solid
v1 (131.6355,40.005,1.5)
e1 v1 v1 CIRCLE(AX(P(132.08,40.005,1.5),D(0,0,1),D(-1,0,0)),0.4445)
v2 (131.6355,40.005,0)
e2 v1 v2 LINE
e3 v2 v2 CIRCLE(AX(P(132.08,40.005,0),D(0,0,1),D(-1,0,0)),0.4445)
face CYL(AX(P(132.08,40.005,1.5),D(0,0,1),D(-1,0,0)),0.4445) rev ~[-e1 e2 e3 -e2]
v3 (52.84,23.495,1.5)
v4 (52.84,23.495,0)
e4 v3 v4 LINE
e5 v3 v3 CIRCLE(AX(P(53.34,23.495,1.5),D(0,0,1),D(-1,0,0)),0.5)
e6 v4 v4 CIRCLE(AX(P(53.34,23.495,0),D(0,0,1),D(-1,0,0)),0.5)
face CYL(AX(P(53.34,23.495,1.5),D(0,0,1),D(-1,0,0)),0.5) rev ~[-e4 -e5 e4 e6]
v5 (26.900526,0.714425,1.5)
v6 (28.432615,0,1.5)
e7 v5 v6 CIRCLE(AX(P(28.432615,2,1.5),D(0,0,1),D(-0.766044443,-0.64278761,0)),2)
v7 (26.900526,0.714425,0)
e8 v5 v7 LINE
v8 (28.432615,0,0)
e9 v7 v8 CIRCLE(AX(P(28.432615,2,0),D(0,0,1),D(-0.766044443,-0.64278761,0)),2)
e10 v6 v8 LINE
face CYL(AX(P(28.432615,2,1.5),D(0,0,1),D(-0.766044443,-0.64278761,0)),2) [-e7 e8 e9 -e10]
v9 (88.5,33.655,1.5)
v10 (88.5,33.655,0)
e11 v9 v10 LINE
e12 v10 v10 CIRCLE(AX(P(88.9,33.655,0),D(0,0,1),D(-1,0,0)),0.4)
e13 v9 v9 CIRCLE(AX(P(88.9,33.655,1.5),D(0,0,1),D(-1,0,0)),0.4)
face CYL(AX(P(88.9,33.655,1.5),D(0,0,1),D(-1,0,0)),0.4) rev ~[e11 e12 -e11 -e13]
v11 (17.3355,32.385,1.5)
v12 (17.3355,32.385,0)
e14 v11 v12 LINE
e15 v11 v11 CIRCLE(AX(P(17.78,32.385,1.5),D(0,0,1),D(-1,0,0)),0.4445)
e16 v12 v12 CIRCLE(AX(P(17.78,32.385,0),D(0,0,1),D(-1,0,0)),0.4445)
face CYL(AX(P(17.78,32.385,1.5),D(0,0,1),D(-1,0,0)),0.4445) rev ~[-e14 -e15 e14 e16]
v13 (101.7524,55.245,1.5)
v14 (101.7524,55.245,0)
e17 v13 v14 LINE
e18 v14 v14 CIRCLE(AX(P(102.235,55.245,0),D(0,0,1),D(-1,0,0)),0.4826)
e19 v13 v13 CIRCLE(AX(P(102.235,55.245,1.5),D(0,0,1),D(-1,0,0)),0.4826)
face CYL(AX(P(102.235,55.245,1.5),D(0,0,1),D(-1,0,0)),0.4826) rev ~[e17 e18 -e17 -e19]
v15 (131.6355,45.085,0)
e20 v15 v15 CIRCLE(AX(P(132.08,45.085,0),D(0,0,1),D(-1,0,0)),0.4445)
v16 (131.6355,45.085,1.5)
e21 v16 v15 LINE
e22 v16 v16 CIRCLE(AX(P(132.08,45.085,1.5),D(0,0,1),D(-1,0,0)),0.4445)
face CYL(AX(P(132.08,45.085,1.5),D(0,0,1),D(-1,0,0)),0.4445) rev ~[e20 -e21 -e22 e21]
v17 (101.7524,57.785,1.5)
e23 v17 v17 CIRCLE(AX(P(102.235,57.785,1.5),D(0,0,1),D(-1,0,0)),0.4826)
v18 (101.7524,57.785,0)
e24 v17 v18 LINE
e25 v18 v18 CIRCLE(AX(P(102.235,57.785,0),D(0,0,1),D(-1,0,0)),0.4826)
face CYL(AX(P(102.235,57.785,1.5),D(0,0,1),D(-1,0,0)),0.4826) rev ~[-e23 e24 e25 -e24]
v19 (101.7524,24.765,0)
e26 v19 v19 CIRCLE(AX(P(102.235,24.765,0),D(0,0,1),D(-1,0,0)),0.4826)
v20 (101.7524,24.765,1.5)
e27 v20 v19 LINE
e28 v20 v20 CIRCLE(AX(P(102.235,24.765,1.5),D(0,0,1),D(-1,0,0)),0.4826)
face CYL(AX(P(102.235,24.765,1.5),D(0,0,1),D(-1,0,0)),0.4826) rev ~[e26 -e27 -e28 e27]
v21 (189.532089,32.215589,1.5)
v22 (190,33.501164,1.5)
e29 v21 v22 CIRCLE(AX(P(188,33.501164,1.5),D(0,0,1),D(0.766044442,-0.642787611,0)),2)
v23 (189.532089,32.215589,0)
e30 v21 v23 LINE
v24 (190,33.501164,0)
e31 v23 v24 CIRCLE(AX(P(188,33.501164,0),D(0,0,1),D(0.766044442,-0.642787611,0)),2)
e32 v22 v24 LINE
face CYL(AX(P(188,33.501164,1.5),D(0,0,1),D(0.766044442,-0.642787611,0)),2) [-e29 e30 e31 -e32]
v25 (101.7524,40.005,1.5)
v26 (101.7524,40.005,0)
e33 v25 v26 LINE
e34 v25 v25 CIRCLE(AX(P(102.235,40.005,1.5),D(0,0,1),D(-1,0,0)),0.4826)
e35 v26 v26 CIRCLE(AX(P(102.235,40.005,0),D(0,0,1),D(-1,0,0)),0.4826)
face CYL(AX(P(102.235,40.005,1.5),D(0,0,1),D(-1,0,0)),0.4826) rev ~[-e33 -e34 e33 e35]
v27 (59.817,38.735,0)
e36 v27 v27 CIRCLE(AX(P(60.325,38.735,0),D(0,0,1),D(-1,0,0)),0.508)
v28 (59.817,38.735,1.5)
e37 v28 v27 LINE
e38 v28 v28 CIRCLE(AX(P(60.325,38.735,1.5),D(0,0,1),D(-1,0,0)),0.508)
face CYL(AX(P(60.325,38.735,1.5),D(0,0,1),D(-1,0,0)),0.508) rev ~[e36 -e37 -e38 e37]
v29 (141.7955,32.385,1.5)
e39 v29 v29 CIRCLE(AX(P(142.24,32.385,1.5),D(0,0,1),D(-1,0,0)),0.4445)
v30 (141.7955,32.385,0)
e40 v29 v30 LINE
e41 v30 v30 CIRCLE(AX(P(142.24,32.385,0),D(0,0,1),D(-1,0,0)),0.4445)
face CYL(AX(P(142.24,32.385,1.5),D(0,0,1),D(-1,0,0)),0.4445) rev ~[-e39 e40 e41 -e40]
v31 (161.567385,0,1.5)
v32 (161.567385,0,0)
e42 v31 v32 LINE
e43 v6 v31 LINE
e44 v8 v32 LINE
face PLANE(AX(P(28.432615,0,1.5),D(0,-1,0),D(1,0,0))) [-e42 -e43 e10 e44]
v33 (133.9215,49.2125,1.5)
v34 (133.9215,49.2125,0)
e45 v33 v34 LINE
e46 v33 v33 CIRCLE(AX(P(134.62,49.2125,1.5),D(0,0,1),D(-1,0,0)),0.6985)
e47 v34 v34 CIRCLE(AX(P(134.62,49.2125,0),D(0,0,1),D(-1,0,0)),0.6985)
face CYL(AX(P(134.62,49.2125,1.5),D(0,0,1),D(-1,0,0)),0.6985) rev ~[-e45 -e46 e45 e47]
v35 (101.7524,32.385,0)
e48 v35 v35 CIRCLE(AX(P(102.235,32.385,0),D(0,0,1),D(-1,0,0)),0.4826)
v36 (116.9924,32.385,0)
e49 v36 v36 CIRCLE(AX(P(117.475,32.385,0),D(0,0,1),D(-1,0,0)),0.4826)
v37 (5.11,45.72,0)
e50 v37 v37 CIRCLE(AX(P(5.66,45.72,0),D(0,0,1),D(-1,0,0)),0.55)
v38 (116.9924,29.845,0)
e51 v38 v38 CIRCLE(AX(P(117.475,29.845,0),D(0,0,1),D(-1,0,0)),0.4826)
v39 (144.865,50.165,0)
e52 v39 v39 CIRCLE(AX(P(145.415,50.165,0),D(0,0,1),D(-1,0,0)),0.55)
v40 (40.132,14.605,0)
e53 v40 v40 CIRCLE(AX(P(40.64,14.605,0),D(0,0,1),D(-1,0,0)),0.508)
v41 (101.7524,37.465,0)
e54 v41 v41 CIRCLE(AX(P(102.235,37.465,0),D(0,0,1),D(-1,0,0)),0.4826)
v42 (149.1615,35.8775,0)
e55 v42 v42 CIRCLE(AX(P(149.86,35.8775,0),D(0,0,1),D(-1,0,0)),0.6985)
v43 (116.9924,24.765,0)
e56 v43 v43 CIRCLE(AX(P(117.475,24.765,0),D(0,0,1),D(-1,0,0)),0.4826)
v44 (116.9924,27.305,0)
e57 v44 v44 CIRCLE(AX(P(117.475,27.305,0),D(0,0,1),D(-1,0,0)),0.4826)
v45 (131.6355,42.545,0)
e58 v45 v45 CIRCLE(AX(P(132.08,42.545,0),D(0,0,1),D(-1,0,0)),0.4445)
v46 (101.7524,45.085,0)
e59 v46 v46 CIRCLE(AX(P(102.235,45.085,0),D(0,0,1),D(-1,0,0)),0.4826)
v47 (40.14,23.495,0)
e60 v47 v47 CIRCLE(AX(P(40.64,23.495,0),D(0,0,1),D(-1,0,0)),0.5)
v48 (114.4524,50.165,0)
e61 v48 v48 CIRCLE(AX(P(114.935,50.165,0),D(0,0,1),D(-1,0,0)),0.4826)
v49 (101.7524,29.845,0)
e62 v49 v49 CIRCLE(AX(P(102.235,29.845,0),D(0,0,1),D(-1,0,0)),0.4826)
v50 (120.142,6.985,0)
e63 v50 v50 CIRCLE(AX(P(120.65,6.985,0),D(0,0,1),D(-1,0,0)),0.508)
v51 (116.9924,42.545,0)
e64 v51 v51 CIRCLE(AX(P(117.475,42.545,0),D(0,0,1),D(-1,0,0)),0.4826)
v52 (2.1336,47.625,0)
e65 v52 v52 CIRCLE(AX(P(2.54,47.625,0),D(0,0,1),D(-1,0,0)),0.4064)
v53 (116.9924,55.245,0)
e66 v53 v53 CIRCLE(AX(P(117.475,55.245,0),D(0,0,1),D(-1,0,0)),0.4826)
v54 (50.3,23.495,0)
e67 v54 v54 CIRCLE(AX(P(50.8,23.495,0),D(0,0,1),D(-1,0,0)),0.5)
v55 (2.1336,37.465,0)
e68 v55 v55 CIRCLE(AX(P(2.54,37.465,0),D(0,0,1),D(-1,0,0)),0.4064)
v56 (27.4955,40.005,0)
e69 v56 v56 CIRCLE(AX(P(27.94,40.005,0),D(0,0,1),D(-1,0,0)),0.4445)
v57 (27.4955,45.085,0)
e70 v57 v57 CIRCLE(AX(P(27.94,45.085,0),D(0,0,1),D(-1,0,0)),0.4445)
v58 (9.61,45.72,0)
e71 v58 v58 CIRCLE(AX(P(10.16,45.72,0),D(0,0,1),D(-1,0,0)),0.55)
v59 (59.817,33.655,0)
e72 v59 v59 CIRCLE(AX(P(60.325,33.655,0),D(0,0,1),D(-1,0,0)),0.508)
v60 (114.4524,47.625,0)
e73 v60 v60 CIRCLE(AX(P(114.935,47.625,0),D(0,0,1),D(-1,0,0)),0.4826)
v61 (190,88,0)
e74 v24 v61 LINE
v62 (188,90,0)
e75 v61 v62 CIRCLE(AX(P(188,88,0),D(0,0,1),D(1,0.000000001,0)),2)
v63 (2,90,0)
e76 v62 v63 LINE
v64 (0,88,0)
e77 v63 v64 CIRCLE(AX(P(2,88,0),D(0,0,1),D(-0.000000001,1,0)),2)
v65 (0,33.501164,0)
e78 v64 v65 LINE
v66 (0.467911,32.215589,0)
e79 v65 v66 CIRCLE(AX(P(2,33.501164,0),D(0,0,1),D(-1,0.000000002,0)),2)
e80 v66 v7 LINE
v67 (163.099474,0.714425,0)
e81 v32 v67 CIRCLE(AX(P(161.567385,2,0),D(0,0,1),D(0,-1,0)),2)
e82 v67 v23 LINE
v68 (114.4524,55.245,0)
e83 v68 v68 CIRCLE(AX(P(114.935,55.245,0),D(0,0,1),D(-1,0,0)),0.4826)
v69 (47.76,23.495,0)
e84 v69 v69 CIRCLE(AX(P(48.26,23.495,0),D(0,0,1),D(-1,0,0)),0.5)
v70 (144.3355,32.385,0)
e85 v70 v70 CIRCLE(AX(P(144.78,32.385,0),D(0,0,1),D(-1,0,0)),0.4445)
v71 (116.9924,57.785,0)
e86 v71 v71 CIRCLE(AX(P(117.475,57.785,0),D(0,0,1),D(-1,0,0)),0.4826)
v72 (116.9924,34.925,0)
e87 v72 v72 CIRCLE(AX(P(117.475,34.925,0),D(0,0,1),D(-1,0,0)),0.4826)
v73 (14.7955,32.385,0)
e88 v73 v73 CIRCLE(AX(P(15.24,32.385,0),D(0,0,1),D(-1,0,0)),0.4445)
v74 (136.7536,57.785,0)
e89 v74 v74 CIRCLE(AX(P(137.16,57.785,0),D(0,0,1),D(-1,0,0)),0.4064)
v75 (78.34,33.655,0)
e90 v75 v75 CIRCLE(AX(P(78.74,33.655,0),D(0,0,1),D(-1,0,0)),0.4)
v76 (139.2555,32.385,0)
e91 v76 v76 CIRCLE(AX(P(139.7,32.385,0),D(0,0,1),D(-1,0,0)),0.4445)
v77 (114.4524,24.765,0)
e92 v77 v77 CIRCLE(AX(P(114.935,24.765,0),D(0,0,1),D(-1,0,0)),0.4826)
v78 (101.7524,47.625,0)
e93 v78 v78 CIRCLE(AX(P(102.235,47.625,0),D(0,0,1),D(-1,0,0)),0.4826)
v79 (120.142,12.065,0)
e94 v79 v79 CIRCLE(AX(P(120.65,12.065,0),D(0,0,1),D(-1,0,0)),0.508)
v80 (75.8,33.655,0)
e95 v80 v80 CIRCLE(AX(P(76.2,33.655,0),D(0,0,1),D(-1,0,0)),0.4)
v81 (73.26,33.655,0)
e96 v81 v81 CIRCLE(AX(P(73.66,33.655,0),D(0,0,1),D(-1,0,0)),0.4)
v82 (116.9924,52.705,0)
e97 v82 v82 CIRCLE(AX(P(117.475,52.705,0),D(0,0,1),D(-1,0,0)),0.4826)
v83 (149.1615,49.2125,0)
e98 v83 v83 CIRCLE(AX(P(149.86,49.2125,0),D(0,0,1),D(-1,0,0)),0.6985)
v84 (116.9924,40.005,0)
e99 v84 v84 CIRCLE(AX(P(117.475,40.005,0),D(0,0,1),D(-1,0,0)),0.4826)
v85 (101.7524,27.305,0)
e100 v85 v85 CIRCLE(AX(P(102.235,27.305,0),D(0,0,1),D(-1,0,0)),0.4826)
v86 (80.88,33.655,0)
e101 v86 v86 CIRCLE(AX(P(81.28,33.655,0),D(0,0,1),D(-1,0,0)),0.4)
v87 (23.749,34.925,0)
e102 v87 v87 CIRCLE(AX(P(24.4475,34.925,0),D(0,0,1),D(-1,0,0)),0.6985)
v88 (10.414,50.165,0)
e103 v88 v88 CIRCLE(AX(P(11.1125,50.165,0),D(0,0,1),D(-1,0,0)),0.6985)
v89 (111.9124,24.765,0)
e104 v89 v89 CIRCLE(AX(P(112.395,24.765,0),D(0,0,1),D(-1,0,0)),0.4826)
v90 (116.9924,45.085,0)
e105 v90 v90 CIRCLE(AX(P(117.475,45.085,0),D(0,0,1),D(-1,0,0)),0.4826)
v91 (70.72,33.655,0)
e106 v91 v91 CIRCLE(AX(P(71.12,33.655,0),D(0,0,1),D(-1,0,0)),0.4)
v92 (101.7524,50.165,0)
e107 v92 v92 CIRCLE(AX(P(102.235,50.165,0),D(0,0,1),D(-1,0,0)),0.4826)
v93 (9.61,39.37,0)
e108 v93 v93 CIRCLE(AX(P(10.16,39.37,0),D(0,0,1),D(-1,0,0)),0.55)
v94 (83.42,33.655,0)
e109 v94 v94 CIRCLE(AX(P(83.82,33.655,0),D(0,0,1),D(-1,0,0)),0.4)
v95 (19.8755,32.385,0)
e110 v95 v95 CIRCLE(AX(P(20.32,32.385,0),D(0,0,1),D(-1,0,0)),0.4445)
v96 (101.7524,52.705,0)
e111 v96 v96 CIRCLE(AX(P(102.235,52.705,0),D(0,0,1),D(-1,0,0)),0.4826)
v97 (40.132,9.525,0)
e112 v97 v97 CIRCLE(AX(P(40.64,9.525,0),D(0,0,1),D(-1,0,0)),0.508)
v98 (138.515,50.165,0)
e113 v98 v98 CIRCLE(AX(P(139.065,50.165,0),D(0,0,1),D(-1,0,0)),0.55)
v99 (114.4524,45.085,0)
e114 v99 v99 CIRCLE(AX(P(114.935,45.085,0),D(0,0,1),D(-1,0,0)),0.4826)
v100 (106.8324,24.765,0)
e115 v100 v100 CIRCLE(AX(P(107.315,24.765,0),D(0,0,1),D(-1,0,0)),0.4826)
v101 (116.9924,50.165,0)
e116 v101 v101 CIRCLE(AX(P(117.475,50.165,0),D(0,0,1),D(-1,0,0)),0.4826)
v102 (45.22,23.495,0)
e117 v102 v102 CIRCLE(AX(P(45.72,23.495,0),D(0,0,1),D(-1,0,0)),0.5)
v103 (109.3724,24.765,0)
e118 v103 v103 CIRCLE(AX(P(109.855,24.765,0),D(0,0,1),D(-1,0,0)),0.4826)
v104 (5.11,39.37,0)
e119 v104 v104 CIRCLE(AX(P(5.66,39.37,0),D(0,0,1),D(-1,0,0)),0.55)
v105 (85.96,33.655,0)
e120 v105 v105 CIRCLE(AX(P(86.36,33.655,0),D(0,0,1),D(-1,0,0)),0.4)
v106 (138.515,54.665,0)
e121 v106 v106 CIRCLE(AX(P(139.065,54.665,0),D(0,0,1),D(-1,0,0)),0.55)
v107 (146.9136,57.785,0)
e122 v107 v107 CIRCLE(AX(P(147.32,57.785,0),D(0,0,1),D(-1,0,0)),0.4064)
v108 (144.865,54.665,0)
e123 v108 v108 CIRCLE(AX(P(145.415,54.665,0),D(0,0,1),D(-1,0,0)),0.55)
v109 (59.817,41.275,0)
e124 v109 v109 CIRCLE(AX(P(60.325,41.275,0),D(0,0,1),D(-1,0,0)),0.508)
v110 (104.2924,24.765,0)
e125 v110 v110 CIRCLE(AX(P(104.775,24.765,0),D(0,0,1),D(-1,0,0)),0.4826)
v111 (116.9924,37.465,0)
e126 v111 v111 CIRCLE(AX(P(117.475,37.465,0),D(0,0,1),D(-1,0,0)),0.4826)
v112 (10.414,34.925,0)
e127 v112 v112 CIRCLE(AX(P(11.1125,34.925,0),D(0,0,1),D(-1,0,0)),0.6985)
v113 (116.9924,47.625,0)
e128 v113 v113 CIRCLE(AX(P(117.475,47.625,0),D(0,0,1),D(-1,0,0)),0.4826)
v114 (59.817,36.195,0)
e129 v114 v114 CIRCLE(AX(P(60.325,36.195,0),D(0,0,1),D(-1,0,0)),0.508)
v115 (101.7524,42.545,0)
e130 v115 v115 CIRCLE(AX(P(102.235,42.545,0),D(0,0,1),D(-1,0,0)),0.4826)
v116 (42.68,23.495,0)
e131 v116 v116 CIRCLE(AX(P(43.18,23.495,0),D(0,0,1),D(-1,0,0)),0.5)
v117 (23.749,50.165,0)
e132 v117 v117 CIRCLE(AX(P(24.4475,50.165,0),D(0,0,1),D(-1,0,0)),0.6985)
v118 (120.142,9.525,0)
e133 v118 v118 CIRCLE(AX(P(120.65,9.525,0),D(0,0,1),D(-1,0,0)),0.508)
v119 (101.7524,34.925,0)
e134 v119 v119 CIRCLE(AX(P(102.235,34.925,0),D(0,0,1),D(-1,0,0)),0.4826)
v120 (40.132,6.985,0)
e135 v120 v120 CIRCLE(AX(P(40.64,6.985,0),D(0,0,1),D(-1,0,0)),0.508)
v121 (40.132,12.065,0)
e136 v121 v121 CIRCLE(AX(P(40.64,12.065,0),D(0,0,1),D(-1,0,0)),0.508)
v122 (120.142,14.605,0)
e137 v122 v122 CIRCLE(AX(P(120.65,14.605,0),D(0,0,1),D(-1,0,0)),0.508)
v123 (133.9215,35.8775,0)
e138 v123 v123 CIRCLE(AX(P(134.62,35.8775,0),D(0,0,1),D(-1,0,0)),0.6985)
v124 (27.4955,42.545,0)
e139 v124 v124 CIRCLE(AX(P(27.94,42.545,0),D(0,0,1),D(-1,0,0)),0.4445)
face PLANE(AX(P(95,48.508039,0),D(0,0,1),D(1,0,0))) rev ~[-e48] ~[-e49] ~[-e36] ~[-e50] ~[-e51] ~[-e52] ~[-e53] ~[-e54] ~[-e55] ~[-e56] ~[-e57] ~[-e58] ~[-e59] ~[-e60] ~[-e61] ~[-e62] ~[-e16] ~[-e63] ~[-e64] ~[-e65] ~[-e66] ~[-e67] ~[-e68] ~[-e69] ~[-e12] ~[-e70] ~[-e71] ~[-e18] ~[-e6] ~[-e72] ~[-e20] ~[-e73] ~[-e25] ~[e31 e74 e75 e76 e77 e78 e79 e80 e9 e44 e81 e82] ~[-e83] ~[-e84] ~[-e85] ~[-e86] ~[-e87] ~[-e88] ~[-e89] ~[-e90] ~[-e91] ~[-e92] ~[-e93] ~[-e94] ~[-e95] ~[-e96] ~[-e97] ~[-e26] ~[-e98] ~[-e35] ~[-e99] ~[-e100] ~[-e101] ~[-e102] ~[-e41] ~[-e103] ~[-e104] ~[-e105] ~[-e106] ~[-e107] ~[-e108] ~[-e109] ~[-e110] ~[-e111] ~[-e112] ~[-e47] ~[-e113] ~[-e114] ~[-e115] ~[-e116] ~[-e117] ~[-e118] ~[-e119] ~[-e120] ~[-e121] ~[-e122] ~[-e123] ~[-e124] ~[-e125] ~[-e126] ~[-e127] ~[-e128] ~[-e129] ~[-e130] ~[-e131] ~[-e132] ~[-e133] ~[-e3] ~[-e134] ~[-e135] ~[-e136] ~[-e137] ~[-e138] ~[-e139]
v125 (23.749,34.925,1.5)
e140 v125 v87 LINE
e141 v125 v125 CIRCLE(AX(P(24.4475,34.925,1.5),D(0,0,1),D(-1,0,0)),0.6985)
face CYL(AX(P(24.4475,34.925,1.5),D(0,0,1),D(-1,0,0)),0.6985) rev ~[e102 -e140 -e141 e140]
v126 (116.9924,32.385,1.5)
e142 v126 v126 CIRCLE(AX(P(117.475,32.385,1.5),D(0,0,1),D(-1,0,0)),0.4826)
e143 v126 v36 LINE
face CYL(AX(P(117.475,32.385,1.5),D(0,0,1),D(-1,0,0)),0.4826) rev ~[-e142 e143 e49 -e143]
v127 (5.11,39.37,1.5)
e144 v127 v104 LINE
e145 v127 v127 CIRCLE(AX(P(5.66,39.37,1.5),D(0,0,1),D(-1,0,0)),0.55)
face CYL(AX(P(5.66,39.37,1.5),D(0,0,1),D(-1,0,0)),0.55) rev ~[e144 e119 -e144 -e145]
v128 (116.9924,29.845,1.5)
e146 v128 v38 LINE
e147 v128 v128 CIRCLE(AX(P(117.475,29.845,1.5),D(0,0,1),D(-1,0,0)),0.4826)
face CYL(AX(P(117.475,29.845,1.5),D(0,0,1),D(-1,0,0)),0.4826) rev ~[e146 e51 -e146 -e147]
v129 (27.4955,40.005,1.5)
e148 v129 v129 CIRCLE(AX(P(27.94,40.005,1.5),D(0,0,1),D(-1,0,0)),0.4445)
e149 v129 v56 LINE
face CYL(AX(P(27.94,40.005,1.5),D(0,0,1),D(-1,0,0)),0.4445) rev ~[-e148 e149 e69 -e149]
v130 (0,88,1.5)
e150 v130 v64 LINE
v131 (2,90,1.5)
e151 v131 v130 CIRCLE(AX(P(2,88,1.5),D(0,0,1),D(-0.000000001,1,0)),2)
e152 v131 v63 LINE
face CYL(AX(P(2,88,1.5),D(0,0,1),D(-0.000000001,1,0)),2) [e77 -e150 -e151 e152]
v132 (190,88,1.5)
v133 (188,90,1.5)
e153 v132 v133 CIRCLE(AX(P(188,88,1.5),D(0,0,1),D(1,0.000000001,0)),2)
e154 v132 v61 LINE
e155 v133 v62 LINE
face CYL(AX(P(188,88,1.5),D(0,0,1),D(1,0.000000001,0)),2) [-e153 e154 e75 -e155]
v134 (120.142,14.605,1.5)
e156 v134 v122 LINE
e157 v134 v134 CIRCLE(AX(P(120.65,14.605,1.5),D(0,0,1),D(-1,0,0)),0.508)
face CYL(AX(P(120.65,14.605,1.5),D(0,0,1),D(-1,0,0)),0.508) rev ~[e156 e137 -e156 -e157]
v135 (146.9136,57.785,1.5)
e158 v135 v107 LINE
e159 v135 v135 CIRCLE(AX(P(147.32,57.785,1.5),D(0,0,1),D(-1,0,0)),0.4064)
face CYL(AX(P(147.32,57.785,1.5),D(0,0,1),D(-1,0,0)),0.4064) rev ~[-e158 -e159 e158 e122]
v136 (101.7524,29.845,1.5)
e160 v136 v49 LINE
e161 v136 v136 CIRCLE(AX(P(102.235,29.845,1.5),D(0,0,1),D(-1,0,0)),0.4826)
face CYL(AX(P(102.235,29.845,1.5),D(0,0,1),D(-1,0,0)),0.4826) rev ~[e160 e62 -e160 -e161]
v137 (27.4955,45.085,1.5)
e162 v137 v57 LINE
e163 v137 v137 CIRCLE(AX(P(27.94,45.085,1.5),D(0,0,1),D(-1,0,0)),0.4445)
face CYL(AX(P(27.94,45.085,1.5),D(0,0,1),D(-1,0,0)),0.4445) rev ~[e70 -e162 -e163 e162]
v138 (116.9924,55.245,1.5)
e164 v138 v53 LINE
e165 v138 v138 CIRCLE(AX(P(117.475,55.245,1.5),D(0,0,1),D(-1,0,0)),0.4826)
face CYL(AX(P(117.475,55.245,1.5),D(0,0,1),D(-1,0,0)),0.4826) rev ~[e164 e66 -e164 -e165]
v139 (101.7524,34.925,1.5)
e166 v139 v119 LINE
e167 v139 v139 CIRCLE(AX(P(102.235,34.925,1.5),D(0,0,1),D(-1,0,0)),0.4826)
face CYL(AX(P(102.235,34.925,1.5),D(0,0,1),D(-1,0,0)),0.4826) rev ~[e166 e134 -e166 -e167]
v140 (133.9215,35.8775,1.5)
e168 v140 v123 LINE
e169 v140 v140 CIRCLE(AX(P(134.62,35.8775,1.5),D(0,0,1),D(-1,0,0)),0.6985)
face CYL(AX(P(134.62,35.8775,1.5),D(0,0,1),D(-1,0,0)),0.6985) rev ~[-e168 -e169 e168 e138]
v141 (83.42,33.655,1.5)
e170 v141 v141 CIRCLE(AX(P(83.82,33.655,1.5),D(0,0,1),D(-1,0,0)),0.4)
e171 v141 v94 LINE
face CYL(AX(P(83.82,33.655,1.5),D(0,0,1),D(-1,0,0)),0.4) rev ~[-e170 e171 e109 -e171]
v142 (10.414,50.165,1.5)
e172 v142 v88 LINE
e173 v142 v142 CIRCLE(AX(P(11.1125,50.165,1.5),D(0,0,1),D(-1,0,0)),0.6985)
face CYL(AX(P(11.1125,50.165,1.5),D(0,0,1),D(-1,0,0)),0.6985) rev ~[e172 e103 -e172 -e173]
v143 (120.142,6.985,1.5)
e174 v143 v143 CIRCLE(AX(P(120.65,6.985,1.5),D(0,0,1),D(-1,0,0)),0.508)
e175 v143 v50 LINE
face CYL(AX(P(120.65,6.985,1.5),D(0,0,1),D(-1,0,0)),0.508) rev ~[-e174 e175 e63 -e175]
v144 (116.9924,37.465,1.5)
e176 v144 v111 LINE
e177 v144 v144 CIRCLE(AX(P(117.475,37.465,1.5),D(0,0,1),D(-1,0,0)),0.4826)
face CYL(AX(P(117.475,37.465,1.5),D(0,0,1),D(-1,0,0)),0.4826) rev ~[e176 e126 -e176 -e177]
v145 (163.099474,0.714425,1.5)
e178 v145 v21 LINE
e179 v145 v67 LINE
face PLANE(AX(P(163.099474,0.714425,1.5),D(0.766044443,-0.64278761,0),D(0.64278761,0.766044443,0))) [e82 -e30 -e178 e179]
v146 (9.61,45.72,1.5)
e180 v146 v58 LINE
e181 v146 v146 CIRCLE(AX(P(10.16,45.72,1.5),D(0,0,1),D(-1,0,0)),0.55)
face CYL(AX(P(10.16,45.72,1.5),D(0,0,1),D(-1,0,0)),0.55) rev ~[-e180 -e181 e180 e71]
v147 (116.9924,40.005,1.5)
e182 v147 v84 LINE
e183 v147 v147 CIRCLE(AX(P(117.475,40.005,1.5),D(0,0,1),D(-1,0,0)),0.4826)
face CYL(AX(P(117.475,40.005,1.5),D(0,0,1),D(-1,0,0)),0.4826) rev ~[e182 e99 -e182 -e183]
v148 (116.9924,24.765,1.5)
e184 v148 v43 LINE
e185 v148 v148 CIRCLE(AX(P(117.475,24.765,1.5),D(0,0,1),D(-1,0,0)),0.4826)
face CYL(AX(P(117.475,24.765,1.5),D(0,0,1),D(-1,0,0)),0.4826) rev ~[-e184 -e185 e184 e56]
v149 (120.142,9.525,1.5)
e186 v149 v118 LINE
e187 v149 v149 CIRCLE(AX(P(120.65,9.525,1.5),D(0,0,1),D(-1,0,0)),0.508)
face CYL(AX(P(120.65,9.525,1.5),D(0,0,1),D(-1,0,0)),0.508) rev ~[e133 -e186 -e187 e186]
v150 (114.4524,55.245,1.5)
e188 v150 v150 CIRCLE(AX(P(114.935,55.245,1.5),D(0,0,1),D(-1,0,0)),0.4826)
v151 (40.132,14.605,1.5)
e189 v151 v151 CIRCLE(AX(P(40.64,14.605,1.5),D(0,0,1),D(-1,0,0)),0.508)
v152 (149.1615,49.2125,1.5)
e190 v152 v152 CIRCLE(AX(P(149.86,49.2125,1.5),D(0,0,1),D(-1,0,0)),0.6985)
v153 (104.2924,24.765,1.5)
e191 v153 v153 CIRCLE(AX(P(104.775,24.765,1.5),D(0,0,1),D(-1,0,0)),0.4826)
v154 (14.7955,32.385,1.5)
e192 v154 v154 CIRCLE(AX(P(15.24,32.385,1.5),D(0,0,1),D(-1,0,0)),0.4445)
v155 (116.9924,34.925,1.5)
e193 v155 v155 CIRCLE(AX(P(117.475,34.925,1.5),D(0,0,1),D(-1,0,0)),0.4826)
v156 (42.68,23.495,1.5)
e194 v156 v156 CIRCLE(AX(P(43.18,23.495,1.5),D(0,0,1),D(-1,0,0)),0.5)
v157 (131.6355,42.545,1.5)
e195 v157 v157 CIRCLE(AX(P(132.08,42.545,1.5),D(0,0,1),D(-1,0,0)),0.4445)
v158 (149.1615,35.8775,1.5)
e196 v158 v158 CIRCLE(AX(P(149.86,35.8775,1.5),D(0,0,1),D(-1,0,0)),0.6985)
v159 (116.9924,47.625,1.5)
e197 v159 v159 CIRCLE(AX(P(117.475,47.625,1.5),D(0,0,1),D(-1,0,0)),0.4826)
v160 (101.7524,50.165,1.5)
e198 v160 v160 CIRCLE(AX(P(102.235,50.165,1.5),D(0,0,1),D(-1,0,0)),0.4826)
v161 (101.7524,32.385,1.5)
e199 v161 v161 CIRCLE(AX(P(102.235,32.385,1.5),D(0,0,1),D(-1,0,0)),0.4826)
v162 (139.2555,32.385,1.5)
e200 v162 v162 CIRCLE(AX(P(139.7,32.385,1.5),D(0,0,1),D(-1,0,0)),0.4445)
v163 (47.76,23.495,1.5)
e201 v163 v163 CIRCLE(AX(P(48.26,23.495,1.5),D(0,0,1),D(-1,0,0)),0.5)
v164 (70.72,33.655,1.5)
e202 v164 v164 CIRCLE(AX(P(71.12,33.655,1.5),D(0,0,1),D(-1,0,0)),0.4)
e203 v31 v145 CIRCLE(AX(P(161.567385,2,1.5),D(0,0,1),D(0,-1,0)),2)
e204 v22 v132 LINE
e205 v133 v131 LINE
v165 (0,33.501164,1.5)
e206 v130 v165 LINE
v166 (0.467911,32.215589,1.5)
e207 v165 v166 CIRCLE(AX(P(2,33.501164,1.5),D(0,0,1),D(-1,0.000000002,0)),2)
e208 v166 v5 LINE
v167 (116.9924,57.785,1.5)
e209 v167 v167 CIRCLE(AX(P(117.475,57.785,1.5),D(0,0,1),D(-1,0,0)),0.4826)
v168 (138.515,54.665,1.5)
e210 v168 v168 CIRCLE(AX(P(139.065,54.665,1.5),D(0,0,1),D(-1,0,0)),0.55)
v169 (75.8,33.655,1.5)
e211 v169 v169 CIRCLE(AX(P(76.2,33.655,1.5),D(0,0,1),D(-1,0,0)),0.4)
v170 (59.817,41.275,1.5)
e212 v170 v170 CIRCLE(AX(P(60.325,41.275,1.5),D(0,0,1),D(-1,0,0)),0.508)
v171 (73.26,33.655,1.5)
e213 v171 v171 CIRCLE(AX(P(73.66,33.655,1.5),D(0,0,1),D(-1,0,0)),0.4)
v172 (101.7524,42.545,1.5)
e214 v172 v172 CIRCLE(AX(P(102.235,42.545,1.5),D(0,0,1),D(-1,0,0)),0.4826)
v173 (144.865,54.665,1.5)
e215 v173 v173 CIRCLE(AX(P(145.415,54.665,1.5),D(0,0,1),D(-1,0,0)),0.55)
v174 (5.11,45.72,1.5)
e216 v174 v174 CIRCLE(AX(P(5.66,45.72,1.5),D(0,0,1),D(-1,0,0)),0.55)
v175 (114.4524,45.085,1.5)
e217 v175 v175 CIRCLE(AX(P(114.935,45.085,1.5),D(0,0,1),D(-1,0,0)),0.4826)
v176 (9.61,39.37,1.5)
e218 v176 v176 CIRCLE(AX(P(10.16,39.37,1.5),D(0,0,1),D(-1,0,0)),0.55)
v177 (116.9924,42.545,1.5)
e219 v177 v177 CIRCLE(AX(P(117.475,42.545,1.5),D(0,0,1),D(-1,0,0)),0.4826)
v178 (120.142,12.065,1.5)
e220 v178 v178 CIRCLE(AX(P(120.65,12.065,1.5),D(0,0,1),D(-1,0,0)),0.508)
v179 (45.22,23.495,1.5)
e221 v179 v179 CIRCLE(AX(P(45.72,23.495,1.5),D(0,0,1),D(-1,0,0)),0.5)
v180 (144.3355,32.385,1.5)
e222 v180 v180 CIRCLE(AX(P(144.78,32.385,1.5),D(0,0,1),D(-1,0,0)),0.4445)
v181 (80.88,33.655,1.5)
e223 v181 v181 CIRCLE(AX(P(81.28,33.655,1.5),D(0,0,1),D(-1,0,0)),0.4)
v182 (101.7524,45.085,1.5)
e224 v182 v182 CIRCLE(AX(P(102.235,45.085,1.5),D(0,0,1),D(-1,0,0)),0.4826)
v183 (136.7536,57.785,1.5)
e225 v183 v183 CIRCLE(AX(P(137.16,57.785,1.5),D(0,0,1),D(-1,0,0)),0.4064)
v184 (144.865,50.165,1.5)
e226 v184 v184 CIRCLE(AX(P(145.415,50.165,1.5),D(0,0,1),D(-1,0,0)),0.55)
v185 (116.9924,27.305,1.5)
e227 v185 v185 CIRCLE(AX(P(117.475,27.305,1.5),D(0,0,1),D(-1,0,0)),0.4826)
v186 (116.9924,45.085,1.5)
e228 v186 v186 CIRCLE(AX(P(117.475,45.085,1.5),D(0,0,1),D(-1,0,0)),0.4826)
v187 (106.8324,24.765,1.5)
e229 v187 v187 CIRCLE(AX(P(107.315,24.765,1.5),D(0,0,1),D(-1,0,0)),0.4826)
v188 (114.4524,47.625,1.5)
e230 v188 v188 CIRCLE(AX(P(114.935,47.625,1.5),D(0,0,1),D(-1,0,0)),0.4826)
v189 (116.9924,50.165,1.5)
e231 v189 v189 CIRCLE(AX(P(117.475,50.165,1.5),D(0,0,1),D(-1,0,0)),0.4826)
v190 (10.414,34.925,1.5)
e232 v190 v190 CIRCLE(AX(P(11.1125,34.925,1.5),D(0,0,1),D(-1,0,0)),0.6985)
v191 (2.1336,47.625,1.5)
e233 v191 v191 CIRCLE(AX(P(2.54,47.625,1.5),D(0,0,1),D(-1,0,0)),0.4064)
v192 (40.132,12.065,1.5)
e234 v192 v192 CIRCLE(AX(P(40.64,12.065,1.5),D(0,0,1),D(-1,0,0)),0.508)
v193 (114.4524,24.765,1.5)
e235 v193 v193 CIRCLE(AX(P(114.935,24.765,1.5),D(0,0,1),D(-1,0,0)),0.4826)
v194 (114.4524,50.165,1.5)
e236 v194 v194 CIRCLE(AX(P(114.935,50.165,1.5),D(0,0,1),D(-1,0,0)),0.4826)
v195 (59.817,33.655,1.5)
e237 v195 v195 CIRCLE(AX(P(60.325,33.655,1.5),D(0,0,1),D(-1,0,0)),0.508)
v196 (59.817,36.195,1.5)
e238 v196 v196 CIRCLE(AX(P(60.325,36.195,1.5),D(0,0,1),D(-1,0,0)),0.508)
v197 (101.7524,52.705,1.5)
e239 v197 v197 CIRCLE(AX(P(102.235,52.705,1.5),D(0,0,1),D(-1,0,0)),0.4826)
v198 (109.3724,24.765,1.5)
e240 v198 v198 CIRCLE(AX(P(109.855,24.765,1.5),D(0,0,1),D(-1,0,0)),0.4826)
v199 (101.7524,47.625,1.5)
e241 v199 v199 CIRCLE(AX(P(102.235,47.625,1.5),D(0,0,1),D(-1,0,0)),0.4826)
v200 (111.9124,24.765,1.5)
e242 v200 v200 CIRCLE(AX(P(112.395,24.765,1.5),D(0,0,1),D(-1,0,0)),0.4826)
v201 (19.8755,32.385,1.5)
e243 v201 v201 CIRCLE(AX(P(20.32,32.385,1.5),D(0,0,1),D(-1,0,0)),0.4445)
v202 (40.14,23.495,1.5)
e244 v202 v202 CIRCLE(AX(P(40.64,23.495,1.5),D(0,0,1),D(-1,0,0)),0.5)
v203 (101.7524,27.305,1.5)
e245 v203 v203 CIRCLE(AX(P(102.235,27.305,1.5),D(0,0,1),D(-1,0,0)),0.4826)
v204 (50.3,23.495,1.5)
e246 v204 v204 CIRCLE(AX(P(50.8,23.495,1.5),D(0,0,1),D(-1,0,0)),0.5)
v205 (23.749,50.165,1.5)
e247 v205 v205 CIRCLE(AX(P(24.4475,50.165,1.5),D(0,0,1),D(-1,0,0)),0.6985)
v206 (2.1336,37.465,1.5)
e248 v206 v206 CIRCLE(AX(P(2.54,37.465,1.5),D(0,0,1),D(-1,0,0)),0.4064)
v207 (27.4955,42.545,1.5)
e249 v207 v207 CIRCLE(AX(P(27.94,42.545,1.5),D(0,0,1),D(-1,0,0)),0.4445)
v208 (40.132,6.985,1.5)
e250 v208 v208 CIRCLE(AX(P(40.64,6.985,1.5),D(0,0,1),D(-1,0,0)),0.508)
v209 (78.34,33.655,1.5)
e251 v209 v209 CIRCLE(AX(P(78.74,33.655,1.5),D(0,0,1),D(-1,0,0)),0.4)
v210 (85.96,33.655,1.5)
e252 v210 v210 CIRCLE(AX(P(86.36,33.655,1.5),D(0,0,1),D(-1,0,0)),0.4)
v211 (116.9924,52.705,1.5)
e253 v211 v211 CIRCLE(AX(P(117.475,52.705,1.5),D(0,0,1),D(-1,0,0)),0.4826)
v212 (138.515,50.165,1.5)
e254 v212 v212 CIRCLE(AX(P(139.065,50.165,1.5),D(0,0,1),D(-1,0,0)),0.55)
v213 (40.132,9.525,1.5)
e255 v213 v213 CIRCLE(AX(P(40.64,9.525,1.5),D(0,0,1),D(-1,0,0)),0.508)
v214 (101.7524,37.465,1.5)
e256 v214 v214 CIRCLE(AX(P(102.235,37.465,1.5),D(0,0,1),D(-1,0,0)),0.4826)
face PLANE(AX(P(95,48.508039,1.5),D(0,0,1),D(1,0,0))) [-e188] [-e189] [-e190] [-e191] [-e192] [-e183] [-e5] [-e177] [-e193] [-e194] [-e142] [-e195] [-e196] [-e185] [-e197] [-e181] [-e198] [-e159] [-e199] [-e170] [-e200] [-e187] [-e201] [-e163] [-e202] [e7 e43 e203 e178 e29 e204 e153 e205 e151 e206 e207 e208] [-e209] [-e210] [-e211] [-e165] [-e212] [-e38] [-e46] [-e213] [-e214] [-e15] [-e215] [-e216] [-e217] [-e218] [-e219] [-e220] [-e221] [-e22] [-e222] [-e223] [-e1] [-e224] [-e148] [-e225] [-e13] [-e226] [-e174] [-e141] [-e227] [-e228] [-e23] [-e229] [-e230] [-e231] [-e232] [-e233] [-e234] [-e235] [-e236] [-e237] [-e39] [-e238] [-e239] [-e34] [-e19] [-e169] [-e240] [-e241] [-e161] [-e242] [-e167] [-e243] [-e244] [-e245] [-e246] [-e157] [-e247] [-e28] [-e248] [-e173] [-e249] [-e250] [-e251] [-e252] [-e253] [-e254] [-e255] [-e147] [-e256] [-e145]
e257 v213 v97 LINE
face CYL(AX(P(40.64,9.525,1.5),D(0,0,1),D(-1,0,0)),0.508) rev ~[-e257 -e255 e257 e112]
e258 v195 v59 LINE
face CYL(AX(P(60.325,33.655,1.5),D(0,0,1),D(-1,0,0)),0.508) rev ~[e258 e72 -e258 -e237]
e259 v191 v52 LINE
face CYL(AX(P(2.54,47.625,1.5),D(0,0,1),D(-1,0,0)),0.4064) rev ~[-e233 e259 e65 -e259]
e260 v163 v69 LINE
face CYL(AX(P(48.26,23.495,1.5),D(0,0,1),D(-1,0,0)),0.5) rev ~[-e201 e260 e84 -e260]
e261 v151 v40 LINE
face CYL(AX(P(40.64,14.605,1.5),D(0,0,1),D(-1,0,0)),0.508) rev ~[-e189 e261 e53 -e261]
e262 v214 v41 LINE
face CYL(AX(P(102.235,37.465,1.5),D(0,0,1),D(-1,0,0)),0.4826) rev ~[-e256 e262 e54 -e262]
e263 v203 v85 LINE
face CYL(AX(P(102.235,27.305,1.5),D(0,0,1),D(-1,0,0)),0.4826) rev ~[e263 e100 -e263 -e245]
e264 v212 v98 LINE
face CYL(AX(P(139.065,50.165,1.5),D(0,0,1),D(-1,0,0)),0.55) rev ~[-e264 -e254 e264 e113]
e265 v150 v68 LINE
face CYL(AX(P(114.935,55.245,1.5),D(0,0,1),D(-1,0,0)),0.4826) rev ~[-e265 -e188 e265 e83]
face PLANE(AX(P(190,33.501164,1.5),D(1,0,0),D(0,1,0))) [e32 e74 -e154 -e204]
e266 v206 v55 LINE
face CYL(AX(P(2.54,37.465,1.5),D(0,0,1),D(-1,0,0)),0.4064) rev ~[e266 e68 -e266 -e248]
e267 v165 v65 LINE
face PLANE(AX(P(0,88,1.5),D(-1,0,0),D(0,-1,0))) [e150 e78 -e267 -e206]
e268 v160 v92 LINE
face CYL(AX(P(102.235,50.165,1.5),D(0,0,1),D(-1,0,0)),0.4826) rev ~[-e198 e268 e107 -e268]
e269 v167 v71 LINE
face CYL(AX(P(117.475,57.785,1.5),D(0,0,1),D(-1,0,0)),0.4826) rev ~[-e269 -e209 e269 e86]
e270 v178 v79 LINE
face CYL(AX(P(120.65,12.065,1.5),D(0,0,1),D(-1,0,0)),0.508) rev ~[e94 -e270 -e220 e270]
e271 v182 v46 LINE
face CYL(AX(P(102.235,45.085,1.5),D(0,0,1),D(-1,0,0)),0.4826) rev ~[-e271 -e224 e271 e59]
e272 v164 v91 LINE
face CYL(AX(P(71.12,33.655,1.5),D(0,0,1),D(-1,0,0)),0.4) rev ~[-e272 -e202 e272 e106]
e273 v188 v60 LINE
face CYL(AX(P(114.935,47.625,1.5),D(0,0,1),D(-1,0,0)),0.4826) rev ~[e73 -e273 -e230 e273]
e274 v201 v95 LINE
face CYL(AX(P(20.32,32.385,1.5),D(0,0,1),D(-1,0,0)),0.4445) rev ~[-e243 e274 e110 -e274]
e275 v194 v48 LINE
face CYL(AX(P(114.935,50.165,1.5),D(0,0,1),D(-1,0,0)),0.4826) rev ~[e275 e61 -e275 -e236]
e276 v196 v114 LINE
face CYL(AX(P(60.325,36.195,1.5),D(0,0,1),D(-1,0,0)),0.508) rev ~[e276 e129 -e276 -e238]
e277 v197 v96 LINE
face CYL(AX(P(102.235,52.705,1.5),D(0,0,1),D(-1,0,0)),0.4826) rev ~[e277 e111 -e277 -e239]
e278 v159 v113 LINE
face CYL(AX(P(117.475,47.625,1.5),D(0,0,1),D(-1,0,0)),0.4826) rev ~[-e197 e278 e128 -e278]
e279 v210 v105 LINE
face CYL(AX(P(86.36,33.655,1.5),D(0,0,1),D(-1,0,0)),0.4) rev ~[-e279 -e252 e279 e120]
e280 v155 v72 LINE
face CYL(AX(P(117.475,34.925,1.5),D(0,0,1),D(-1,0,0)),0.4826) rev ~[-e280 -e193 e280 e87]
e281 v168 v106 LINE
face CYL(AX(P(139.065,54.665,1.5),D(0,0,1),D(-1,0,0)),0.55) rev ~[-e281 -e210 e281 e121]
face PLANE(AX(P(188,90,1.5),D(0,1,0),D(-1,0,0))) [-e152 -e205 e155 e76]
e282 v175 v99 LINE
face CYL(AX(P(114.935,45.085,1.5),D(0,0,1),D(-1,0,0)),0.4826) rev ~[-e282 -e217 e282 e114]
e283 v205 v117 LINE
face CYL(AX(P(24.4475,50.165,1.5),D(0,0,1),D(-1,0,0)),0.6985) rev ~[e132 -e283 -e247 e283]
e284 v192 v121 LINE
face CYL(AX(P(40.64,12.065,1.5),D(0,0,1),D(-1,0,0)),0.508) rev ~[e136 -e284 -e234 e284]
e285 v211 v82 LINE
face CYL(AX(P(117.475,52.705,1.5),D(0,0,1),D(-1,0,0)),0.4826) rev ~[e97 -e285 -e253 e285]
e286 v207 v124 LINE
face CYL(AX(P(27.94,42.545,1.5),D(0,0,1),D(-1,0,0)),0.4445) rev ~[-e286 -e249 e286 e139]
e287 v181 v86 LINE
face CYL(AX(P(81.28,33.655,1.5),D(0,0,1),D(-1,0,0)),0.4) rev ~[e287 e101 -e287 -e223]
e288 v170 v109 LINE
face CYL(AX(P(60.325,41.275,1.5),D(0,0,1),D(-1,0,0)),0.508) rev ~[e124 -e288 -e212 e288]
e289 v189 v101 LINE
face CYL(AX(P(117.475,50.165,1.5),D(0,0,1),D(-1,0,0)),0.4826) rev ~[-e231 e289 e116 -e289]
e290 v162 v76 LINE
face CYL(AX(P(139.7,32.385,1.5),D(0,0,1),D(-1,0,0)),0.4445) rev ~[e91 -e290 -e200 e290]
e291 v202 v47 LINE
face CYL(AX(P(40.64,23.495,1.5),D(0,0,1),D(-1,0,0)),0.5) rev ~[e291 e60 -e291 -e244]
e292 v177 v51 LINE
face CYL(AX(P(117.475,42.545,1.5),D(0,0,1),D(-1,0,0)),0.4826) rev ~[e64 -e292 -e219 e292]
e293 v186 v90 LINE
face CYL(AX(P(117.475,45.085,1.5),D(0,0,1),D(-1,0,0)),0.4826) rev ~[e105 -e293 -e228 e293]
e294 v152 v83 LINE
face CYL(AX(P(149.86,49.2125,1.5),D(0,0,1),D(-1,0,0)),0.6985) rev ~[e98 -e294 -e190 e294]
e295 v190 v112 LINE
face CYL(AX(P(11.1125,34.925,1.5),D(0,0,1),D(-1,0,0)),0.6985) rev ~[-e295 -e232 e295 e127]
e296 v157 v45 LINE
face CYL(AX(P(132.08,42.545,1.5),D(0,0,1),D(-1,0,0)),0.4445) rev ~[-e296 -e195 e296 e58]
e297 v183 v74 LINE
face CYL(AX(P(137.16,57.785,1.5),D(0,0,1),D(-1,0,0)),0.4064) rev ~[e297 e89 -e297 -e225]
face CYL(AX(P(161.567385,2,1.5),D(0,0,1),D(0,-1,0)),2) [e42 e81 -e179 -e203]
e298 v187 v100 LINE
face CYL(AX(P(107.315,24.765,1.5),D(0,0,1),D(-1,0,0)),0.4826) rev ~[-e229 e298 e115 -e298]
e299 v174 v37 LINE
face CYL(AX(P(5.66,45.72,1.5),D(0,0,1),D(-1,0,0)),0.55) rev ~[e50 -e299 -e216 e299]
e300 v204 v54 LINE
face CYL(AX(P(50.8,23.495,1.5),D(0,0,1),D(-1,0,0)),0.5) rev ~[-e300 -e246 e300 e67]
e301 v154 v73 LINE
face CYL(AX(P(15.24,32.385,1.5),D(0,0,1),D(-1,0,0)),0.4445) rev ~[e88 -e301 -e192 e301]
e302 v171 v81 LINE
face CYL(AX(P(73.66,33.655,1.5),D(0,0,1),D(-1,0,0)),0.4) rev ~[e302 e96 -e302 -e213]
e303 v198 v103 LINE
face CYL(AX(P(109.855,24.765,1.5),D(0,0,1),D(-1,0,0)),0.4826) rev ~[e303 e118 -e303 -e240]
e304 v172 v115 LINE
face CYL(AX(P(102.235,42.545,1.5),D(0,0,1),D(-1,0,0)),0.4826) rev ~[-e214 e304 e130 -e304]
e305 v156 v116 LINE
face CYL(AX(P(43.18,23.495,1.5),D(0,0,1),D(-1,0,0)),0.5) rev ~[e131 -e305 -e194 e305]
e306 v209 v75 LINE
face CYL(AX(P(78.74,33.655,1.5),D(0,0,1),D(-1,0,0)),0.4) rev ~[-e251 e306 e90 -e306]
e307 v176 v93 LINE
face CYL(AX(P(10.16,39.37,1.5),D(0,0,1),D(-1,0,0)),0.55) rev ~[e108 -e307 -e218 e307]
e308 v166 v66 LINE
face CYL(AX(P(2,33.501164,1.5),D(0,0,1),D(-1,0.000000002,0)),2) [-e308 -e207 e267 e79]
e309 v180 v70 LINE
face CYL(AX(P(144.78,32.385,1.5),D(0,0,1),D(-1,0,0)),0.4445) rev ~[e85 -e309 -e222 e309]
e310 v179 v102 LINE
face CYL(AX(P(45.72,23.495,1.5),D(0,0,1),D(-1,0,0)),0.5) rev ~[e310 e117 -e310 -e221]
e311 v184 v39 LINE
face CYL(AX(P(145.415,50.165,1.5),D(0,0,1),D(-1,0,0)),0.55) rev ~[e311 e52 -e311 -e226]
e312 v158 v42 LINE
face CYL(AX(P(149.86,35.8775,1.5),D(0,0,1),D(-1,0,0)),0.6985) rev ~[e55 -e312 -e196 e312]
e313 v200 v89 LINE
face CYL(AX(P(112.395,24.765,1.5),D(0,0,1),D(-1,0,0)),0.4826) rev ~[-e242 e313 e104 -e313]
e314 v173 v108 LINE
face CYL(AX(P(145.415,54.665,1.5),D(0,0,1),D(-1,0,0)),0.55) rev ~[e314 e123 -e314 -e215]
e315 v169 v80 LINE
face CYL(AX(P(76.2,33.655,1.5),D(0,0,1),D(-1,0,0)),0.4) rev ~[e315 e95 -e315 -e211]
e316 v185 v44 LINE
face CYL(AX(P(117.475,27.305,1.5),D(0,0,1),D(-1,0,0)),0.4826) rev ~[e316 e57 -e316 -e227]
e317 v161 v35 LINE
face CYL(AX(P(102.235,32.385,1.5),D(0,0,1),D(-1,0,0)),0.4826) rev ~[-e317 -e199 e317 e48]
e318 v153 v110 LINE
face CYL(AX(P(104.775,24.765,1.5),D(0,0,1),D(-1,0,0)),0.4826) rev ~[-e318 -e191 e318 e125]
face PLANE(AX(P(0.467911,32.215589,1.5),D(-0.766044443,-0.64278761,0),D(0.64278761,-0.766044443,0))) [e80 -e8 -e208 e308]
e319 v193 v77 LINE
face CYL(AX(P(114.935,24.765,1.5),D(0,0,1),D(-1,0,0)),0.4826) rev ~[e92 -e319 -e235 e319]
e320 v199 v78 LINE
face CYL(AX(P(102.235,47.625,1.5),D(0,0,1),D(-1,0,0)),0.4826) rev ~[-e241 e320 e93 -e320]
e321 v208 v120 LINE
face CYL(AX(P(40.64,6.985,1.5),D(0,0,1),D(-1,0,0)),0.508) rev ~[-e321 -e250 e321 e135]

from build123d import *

# Parameters (mm, degrees)
SKETCH1_R           = 0.4
SKETCH1_R_2         = 0.4064
SKETCH1_R_3         = 0.4445
SKETCH1_R_4         = 0.4826
SKETCH1_R_5         = 0.5
SKETCH1_R_6         = 0.508
SKETCH1_R_7         = 0.55
SKETCH1_R_8         = 0.6985
BOSS_EXTRUDE1_DEPTH = 1.5


with BuildPart() as part:
    # Sketch1 → Boss-Extrude1 (new body)
    with BuildSketch(Plane.XY.offset(1.5)):
        with BuildLine():
            Line((190, 33.501164265), (190, 88))
            ThreePointArc((190, 88), (189.414213562, 89.414213562), (188, 90))
            Line((188, 90), (2, 90))
            ThreePointArc((2, 90), (0.585786438, 89.414213562), (0, 88))
            Line((0, 88), (0, 33.501164265))
            ThreePointArc((0, 33.501164265), (0.120614758, 32.817123978), (0.467911114, 32.215589046))
            Line((0.467911114, 32.215589046), (26.90052643, 0.714424781))
            ThreePointArc((26.90052643, 0.714424781), (27.587378793, 0.187384426), (28.432615316, 0))
            Line((28.432615316, 0), (161.567384684, 0))
            ThreePointArc((161.567384684, 0), (162.412621207, 0.187384426), (163.09947357, 0.714424781))
            Line((163.09947357, 0.714424781), (189.532088886, 32.215589046))
            ThreePointArc((189.532088886, 32.215589046), (189.879385242, 32.817123978), (190, 33.501164265))
        make_face()
        with Locations(Location((86.36, 33.655, 0), (0, 0, 180))):
            Circle(SKETCH1_R, mode=Mode.SUBTRACT)
        with Locations(Location((71.12, 33.655, 0), (0, 0, 180))):
            Circle(SKETCH1_R, mode=Mode.SUBTRACT)
        with Locations(Location((76.2, 33.655, 0), (0, 0, 180))):
            Circle(SKETCH1_R, mode=Mode.SUBTRACT)
        with Locations(Location((78.74, 33.655, 0), (0, 0, 180))):
            Circle(SKETCH1_R, mode=Mode.SUBTRACT)
        with Locations(Location((2.54, 47.625, 0), (0, 0, 180))):
            Circle(SKETCH1_R_2, mode=Mode.SUBTRACT)
        with Locations(Location((137.16, 57.785, 0), (0, 0, 180))):
            Circle(SKETCH1_R_2, mode=Mode.SUBTRACT)
        with Locations(Location((142.24, 32.385, 0), (0, 0, 180))):
            Circle(SKETCH1_R_3, mode=Mode.SUBTRACT)
        with Locations(Location((132.08, 42.545, 0), (0, 0, 180))):
            Circle(SKETCH1_R_3, mode=Mode.SUBTRACT)
        with Locations(Location((27.94, 45.085, 0), (0, 0, 180))):
            Circle(SKETCH1_R_3, mode=Mode.SUBTRACT)
        with Locations(Location((27.94, 40.005, 0), (0, 0, 180))):
            Circle(SKETCH1_R_3, mode=Mode.SUBTRACT)
        with Locations(Location((132.08, 40.005, 0), (0, 0, 180))):
            Circle(SKETCH1_R_3, mode=Mode.SUBTRACT)
        with Locations(Location((15.24, 32.385, 0), (0, 0, 180))):
            Circle(SKETCH1_R_3, mode=Mode.SUBTRACT)
        with Locations(Location((102.235, 57.785, 0), (0, 0, 180))):
            Circle(SKETCH1_R_4, mode=Mode.SUBTRACT)
        with Locations(Location((114.935, 47.625, 0), (0, 0, 180))):
            Circle(SKETCH1_R_4, mode=Mode.SUBTRACT)
        with Locations(Location((114.935, 55.245, 0), (0, 0, 180))):
            Circle(SKETCH1_R_4, mode=Mode.SUBTRACT)
        with Locations(Location((117.475, 55.245, 0), (0, 0, 180))):
            Circle(SKETCH1_R_4, mode=Mode.SUBTRACT)
        with Locations(Location((117.475, 50.165, 0), (0, 0, 180))):
            Circle(SKETCH1_R_4, mode=Mode.SUBTRACT)
        with Locations(Location((117.475, 45.085, 0), (0, 0, 180))):
            Circle(SKETCH1_R_4, mode=Mode.SUBTRACT)
        with Locations(Location((117.475, 40.005, 0), (0, 0, 180))):
            Circle(SKETCH1_R_4, mode=Mode.SUBTRACT)
        with Locations(Location((117.475, 34.925, 0), (0, 0, 180))):
            Circle(SKETCH1_R_4, mode=Mode.SUBTRACT)
        with Locations(Location((117.475, 29.845, 0), (0, 0, 180))):
            Circle(SKETCH1_R_4, mode=Mode.SUBTRACT)
        with Locations(Location((117.475, 24.765, 0), (0, 0, 180))):
            Circle(SKETCH1_R_4, mode=Mode.SUBTRACT)
        with Locations(Location((112.395, 24.765, 0), (0, 0, 180))):
            Circle(SKETCH1_R_4, mode=Mode.SUBTRACT)
        with Locations(Location((107.315, 24.765, 0), (0, 0, 180))):
            Circle(SKETCH1_R_4, mode=Mode.SUBTRACT)
        with Locations(Location((102.235, 24.765, 0), (0, 0, 180))):
            Circle(SKETCH1_R_4, mode=Mode.SUBTRACT)
        with Locations(Location((102.235, 29.845, 0), (0, 0, 180))):
            Circle(SKETCH1_R_4, mode=Mode.SUBTRACT)
        with Locations(Location((102.235, 34.925, 0), (0, 0, 180))):
            Circle(SKETCH1_R_4, mode=Mode.SUBTRACT)
        with Locations(Location((102.235, 40.005, 0), (0, 0, 180))):
            Circle(SKETCH1_R_4, mode=Mode.SUBTRACT)
        with Locations(Location((102.235, 45.085, 0), (0, 0, 180))):
            Circle(SKETCH1_R_4, mode=Mode.SUBTRACT)
        with Locations(Location((102.235, 50.165, 0), (0, 0, 180))):
            Circle(SKETCH1_R_4, mode=Mode.SUBTRACT)
        with Locations(Location((43.18, 23.495, 0), (0, 0, 180))):
            Circle(SKETCH1_R_5, mode=Mode.SUBTRACT)
        with Locations(Location((48.26, 23.495, 0), (0, 0, 180))):
            Circle(SKETCH1_R_5, mode=Mode.SUBTRACT)
        with Locations(Location((53.34, 23.495, 0), (0, 0, 180))):
            Circle(SKETCH1_R_5, mode=Mode.SUBTRACT)
        with Locations(Location((120.65, 9.525, 0), (0, 0, 180))):
            Circle(SKETCH1_R_6, mode=Mode.SUBTRACT)
        with Locations(Location((120.65, 6.985, 0), (0, 0, 180))):
            Circle(SKETCH1_R_6, mode=Mode.SUBTRACT)
        with Locations(Location((60.325, 36.195, 0), (0, 0, 180))):
            Circle(SKETCH1_R_6, mode=Mode.SUBTRACT)
        with Locations(Location((60.325, 41.275, 0), (0, 0, 180))):
            Circle(SKETCH1_R_6, mode=Mode.SUBTRACT)
        with Locations(Location((40.64, 12.065, 0), (0, 0, 180))):
            Circle(SKETCH1_R_6, mode=Mode.SUBTRACT)
        with Locations(Location((40.64, 6.985, 0), (0, 0, 180))):
            Circle(SKETCH1_R_6, mode=Mode.SUBTRACT)
        with Locations(Location((5.66, 45.72, 0), (0, 0, 180))):
            Circle(SKETCH1_R_7, mode=Mode.SUBTRACT)
        with Locations(Location((10.16, 39.37, 0), (0, 0, 180))):
            Circle(SKETCH1_R_7, mode=Mode.SUBTRACT)
        with Locations(Location((145.415, 54.665, 0), (0, 0, 180))):
            Circle(SKETCH1_R_7, mode=Mode.SUBTRACT)
        with Locations(Location((139.065, 50.165, 0), (0, 0, 180))):
            Circle(SKETCH1_R_7, mode=Mode.SUBTRACT)
        with Locations(Location((11.1125, 50.165, 0), (0, 0, 180))):
            Circle(SKETCH1_R_8, mode=Mode.SUBTRACT)
        with Locations(Location((24.4475, 34.925, 0), (0, 0, 180))):
            Circle(SKETCH1_R_8, mode=Mode.SUBTRACT)
        with Locations(Location((134.62, 35.8775, 0), (0, 0, 180))):
            Circle(SKETCH1_R_8, mode=Mode.SUBTRACT)
        with Locations(Location((149.86, 49.2125, 0), (0, 0, 180))):
            Circle(SKETCH1_R_8, mode=Mode.SUBTRACT)
        with Locations(Location((134.62, 49.2125, 0), (0, 0, 180))):
            Circle(SKETCH1_R_8, mode=Mode.SUBTRACT)
        with Locations(Location((149.86, 35.8775, 0), (0, 0, 180))):
            Circle(SKETCH1_R_8, mode=Mode.SUBTRACT)
        with Locations(Location((24.4475, 50.165, 0), (0, 0, 180))):
            Circle(SKETCH1_R_8, mode=Mode.SUBTRACT)
        with Locations(Location((11.1125, 34.925, 0), (0, 0, 180))):
            Circle(SKETCH1_R_8, mode=Mode.SUBTRACT)
        with Locations(Location((145.415, 50.165, 0), (0, 0, 180))):
            Circle(SKETCH1_R_7, mode=Mode.SUBTRACT)
        with Locations(Location((139.065, 54.665, 0), (0, 0, 180))):
            Circle(SKETCH1_R_7, mode=Mode.SUBTRACT)
        with Locations(Location((10.16, 45.72, 0), (0, 0, 180))):
            Circle(SKETCH1_R_7, mode=Mode.SUBTRACT)
        with Locations(Location((5.66, 39.37, 0), (0, 0, 180))):
            Circle(SKETCH1_R_7, mode=Mode.SUBTRACT)
        with Locations(Location((120.65, 14.605, 0), (0, 0, 180))):
            Circle(SKETCH1_R_6, mode=Mode.SUBTRACT)
        with Locations(Location((40.64, 9.525, 0), (0, 0, 180))):
            Circle(SKETCH1_R_6, mode=Mode.SUBTRACT)
        with Locations(Location((40.64, 14.605, 0), (0, 0, 180))):
            Circle(SKETCH1_R_6, mode=Mode.SUBTRACT)
        with Locations(Location((60.325, 38.735, 0), (0, 0, 180))):
            Circle(SKETCH1_R_6, mode=Mode.SUBTRACT)
        with Locations(Location((60.325, 33.655, 0), (0, 0, 180))):
            Circle(SKETCH1_R_6, mode=Mode.SUBTRACT)
        with Locations(Location((120.65, 12.065, 0), (0, 0, 180))):
            Circle(SKETCH1_R_6, mode=Mode.SUBTRACT)
        with Locations(Location((40.64, 23.495, 0), (0, 0, 180))):
            Circle(SKETCH1_R_5, mode=Mode.SUBTRACT)
        with Locations(Location((50.8, 23.495, 0), (0, 0, 180))):
            Circle(SKETCH1_R_5, mode=Mode.SUBTRACT)
        with Locations(Location((45.72, 23.495, 0), (0, 0, 180))):
            Circle(SKETCH1_R_5, mode=Mode.SUBTRACT)
        with Locations(Location((102.235, 52.705, 0), (0, 0, 180))):
            Circle(SKETCH1_R_4, mode=Mode.SUBTRACT)
        with Locations(Location((102.235, 47.625, 0), (0, 0, 180))):
            Circle(SKETCH1_R_4, mode=Mode.SUBTRACT)
        with Locations(Location((102.235, 42.545, 0), (0, 0, 180))):
            Circle(SKETCH1_R_4, mode=Mode.SUBTRACT)
        with Locations(Location((102.235, 37.465, 0), (0, 0, 180))):
            Circle(SKETCH1_R_4, mode=Mode.SUBTRACT)
        with Locations(Location((102.235, 32.385, 0), (0, 0, 180))):
            Circle(SKETCH1_R_4, mode=Mode.SUBTRACT)
        with Locations(Location((102.235, 27.305, 0), (0, 0, 180))):
            Circle(SKETCH1_R_4, mode=Mode.SUBTRACT)
        with Locations(Location((104.775, 24.765, 0), (0, 0, 180))):
            Circle(SKETCH1_R_4, mode=Mode.SUBTRACT)
        with Locations(Location((109.855, 24.765, 0), (0, 0, 180))):
            Circle(SKETCH1_R_4, mode=Mode.SUBTRACT)
        with Locations(Location((114.935, 24.765, 0), (0, 0, 180))):
            Circle(SKETCH1_R_4, mode=Mode.SUBTRACT)
        with Locations(Location((117.475, 27.305, 0), (0, 0, 180))):
            Circle(SKETCH1_R_4, mode=Mode.SUBTRACT)
        with Locations(Location((117.475, 32.385, 0), (0, 0, 180))):
            Circle(SKETCH1_R_4, mode=Mode.SUBTRACT)
        with Locations(Location((117.475, 37.465, 0), (0, 0, 180))):
            Circle(SKETCH1_R_4, mode=Mode.SUBTRACT)
        with Locations(Location((117.475, 42.545, 0), (0, 0, 180))):
            Circle(SKETCH1_R_4, mode=Mode.SUBTRACT)
        with Locations(Location((117.475, 47.625, 0), (0, 0, 180))):
            Circle(SKETCH1_R_4, mode=Mode.SUBTRACT)
        with Locations(Location((117.475, 52.705, 0), (0, 0, 180))):
            Circle(SKETCH1_R_4, mode=Mode.SUBTRACT)
        with Locations(Location((117.475, 57.785, 0), (0, 0, 180))):
            Circle(SKETCH1_R_4, mode=Mode.SUBTRACT)
        with Locations(Location((114.935, 50.165, 0), (0, 0, 180))):
            Circle(SKETCH1_R_4, mode=Mode.SUBTRACT)
        with Locations(Location((114.935, 45.085, 0), (0, 0, 180))):
            Circle(SKETCH1_R_4, mode=Mode.SUBTRACT)
        with Locations(Location((102.235, 55.245, 0), (0, 0, 180))):
            Circle(SKETCH1_R_4, mode=Mode.SUBTRACT)
        with Locations(Location((20.32, 32.385, 0), (0, 0, 180))):
            Circle(SKETCH1_R_3, mode=Mode.SUBTRACT)
        with Locations(Location((17.78, 32.385, 0), (0, 0, 180))):
            Circle(SKETCH1_R_3, mode=Mode.SUBTRACT)
        with Locations(Location((27.94, 42.545, 0), (0, 0, 180))):
            Circle(SKETCH1_R_3, mode=Mode.SUBTRACT)
        with Locations(Location((132.08, 45.085, 0), (0, 0, 180))):
            Circle(SKETCH1_R_3, mode=Mode.SUBTRACT)
        with Locations(Location((139.7, 32.385, 0), (0, 0, 180))):
            Circle(SKETCH1_R_3, mode=Mode.SUBTRACT)
        with Locations(Location((144.78, 32.385, 0), (0, 0, 180))):
            Circle(SKETCH1_R_3, mode=Mode.SUBTRACT)
        with Locations(Location((147.32, 57.785, 0), (0, 0, 180))):
            Circle(SKETCH1_R_2, mode=Mode.SUBTRACT)
        with Locations(Location((2.54, 37.465, 0), (0, 0, 180))):
            Circle(SKETCH1_R_2, mode=Mode.SUBTRACT)
        with Locations(Location((81.28, 33.655, 0), (0, 0, 180))):
            Circle(SKETCH1_R, mode=Mode.SUBTRACT)
        with Locations(Location((73.66, 33.655, 0), (0, 0, 180))):
            Circle(SKETCH1_R, mode=Mode.SUBTRACT)
        with Locations(Location((83.82, 33.655, 0), (0, 0, 180))):
            Circle(SKETCH1_R, mode=Mode.SUBTRACT)
        with Locations(Location((88.9, 33.655, 0), (0, 0, 180))):
            Circle(SKETCH1_R, mode=Mode.SUBTRACT)
    extrude(amount=-BOSS_EXTRUDE1_DEPTH)


solid = part.part
